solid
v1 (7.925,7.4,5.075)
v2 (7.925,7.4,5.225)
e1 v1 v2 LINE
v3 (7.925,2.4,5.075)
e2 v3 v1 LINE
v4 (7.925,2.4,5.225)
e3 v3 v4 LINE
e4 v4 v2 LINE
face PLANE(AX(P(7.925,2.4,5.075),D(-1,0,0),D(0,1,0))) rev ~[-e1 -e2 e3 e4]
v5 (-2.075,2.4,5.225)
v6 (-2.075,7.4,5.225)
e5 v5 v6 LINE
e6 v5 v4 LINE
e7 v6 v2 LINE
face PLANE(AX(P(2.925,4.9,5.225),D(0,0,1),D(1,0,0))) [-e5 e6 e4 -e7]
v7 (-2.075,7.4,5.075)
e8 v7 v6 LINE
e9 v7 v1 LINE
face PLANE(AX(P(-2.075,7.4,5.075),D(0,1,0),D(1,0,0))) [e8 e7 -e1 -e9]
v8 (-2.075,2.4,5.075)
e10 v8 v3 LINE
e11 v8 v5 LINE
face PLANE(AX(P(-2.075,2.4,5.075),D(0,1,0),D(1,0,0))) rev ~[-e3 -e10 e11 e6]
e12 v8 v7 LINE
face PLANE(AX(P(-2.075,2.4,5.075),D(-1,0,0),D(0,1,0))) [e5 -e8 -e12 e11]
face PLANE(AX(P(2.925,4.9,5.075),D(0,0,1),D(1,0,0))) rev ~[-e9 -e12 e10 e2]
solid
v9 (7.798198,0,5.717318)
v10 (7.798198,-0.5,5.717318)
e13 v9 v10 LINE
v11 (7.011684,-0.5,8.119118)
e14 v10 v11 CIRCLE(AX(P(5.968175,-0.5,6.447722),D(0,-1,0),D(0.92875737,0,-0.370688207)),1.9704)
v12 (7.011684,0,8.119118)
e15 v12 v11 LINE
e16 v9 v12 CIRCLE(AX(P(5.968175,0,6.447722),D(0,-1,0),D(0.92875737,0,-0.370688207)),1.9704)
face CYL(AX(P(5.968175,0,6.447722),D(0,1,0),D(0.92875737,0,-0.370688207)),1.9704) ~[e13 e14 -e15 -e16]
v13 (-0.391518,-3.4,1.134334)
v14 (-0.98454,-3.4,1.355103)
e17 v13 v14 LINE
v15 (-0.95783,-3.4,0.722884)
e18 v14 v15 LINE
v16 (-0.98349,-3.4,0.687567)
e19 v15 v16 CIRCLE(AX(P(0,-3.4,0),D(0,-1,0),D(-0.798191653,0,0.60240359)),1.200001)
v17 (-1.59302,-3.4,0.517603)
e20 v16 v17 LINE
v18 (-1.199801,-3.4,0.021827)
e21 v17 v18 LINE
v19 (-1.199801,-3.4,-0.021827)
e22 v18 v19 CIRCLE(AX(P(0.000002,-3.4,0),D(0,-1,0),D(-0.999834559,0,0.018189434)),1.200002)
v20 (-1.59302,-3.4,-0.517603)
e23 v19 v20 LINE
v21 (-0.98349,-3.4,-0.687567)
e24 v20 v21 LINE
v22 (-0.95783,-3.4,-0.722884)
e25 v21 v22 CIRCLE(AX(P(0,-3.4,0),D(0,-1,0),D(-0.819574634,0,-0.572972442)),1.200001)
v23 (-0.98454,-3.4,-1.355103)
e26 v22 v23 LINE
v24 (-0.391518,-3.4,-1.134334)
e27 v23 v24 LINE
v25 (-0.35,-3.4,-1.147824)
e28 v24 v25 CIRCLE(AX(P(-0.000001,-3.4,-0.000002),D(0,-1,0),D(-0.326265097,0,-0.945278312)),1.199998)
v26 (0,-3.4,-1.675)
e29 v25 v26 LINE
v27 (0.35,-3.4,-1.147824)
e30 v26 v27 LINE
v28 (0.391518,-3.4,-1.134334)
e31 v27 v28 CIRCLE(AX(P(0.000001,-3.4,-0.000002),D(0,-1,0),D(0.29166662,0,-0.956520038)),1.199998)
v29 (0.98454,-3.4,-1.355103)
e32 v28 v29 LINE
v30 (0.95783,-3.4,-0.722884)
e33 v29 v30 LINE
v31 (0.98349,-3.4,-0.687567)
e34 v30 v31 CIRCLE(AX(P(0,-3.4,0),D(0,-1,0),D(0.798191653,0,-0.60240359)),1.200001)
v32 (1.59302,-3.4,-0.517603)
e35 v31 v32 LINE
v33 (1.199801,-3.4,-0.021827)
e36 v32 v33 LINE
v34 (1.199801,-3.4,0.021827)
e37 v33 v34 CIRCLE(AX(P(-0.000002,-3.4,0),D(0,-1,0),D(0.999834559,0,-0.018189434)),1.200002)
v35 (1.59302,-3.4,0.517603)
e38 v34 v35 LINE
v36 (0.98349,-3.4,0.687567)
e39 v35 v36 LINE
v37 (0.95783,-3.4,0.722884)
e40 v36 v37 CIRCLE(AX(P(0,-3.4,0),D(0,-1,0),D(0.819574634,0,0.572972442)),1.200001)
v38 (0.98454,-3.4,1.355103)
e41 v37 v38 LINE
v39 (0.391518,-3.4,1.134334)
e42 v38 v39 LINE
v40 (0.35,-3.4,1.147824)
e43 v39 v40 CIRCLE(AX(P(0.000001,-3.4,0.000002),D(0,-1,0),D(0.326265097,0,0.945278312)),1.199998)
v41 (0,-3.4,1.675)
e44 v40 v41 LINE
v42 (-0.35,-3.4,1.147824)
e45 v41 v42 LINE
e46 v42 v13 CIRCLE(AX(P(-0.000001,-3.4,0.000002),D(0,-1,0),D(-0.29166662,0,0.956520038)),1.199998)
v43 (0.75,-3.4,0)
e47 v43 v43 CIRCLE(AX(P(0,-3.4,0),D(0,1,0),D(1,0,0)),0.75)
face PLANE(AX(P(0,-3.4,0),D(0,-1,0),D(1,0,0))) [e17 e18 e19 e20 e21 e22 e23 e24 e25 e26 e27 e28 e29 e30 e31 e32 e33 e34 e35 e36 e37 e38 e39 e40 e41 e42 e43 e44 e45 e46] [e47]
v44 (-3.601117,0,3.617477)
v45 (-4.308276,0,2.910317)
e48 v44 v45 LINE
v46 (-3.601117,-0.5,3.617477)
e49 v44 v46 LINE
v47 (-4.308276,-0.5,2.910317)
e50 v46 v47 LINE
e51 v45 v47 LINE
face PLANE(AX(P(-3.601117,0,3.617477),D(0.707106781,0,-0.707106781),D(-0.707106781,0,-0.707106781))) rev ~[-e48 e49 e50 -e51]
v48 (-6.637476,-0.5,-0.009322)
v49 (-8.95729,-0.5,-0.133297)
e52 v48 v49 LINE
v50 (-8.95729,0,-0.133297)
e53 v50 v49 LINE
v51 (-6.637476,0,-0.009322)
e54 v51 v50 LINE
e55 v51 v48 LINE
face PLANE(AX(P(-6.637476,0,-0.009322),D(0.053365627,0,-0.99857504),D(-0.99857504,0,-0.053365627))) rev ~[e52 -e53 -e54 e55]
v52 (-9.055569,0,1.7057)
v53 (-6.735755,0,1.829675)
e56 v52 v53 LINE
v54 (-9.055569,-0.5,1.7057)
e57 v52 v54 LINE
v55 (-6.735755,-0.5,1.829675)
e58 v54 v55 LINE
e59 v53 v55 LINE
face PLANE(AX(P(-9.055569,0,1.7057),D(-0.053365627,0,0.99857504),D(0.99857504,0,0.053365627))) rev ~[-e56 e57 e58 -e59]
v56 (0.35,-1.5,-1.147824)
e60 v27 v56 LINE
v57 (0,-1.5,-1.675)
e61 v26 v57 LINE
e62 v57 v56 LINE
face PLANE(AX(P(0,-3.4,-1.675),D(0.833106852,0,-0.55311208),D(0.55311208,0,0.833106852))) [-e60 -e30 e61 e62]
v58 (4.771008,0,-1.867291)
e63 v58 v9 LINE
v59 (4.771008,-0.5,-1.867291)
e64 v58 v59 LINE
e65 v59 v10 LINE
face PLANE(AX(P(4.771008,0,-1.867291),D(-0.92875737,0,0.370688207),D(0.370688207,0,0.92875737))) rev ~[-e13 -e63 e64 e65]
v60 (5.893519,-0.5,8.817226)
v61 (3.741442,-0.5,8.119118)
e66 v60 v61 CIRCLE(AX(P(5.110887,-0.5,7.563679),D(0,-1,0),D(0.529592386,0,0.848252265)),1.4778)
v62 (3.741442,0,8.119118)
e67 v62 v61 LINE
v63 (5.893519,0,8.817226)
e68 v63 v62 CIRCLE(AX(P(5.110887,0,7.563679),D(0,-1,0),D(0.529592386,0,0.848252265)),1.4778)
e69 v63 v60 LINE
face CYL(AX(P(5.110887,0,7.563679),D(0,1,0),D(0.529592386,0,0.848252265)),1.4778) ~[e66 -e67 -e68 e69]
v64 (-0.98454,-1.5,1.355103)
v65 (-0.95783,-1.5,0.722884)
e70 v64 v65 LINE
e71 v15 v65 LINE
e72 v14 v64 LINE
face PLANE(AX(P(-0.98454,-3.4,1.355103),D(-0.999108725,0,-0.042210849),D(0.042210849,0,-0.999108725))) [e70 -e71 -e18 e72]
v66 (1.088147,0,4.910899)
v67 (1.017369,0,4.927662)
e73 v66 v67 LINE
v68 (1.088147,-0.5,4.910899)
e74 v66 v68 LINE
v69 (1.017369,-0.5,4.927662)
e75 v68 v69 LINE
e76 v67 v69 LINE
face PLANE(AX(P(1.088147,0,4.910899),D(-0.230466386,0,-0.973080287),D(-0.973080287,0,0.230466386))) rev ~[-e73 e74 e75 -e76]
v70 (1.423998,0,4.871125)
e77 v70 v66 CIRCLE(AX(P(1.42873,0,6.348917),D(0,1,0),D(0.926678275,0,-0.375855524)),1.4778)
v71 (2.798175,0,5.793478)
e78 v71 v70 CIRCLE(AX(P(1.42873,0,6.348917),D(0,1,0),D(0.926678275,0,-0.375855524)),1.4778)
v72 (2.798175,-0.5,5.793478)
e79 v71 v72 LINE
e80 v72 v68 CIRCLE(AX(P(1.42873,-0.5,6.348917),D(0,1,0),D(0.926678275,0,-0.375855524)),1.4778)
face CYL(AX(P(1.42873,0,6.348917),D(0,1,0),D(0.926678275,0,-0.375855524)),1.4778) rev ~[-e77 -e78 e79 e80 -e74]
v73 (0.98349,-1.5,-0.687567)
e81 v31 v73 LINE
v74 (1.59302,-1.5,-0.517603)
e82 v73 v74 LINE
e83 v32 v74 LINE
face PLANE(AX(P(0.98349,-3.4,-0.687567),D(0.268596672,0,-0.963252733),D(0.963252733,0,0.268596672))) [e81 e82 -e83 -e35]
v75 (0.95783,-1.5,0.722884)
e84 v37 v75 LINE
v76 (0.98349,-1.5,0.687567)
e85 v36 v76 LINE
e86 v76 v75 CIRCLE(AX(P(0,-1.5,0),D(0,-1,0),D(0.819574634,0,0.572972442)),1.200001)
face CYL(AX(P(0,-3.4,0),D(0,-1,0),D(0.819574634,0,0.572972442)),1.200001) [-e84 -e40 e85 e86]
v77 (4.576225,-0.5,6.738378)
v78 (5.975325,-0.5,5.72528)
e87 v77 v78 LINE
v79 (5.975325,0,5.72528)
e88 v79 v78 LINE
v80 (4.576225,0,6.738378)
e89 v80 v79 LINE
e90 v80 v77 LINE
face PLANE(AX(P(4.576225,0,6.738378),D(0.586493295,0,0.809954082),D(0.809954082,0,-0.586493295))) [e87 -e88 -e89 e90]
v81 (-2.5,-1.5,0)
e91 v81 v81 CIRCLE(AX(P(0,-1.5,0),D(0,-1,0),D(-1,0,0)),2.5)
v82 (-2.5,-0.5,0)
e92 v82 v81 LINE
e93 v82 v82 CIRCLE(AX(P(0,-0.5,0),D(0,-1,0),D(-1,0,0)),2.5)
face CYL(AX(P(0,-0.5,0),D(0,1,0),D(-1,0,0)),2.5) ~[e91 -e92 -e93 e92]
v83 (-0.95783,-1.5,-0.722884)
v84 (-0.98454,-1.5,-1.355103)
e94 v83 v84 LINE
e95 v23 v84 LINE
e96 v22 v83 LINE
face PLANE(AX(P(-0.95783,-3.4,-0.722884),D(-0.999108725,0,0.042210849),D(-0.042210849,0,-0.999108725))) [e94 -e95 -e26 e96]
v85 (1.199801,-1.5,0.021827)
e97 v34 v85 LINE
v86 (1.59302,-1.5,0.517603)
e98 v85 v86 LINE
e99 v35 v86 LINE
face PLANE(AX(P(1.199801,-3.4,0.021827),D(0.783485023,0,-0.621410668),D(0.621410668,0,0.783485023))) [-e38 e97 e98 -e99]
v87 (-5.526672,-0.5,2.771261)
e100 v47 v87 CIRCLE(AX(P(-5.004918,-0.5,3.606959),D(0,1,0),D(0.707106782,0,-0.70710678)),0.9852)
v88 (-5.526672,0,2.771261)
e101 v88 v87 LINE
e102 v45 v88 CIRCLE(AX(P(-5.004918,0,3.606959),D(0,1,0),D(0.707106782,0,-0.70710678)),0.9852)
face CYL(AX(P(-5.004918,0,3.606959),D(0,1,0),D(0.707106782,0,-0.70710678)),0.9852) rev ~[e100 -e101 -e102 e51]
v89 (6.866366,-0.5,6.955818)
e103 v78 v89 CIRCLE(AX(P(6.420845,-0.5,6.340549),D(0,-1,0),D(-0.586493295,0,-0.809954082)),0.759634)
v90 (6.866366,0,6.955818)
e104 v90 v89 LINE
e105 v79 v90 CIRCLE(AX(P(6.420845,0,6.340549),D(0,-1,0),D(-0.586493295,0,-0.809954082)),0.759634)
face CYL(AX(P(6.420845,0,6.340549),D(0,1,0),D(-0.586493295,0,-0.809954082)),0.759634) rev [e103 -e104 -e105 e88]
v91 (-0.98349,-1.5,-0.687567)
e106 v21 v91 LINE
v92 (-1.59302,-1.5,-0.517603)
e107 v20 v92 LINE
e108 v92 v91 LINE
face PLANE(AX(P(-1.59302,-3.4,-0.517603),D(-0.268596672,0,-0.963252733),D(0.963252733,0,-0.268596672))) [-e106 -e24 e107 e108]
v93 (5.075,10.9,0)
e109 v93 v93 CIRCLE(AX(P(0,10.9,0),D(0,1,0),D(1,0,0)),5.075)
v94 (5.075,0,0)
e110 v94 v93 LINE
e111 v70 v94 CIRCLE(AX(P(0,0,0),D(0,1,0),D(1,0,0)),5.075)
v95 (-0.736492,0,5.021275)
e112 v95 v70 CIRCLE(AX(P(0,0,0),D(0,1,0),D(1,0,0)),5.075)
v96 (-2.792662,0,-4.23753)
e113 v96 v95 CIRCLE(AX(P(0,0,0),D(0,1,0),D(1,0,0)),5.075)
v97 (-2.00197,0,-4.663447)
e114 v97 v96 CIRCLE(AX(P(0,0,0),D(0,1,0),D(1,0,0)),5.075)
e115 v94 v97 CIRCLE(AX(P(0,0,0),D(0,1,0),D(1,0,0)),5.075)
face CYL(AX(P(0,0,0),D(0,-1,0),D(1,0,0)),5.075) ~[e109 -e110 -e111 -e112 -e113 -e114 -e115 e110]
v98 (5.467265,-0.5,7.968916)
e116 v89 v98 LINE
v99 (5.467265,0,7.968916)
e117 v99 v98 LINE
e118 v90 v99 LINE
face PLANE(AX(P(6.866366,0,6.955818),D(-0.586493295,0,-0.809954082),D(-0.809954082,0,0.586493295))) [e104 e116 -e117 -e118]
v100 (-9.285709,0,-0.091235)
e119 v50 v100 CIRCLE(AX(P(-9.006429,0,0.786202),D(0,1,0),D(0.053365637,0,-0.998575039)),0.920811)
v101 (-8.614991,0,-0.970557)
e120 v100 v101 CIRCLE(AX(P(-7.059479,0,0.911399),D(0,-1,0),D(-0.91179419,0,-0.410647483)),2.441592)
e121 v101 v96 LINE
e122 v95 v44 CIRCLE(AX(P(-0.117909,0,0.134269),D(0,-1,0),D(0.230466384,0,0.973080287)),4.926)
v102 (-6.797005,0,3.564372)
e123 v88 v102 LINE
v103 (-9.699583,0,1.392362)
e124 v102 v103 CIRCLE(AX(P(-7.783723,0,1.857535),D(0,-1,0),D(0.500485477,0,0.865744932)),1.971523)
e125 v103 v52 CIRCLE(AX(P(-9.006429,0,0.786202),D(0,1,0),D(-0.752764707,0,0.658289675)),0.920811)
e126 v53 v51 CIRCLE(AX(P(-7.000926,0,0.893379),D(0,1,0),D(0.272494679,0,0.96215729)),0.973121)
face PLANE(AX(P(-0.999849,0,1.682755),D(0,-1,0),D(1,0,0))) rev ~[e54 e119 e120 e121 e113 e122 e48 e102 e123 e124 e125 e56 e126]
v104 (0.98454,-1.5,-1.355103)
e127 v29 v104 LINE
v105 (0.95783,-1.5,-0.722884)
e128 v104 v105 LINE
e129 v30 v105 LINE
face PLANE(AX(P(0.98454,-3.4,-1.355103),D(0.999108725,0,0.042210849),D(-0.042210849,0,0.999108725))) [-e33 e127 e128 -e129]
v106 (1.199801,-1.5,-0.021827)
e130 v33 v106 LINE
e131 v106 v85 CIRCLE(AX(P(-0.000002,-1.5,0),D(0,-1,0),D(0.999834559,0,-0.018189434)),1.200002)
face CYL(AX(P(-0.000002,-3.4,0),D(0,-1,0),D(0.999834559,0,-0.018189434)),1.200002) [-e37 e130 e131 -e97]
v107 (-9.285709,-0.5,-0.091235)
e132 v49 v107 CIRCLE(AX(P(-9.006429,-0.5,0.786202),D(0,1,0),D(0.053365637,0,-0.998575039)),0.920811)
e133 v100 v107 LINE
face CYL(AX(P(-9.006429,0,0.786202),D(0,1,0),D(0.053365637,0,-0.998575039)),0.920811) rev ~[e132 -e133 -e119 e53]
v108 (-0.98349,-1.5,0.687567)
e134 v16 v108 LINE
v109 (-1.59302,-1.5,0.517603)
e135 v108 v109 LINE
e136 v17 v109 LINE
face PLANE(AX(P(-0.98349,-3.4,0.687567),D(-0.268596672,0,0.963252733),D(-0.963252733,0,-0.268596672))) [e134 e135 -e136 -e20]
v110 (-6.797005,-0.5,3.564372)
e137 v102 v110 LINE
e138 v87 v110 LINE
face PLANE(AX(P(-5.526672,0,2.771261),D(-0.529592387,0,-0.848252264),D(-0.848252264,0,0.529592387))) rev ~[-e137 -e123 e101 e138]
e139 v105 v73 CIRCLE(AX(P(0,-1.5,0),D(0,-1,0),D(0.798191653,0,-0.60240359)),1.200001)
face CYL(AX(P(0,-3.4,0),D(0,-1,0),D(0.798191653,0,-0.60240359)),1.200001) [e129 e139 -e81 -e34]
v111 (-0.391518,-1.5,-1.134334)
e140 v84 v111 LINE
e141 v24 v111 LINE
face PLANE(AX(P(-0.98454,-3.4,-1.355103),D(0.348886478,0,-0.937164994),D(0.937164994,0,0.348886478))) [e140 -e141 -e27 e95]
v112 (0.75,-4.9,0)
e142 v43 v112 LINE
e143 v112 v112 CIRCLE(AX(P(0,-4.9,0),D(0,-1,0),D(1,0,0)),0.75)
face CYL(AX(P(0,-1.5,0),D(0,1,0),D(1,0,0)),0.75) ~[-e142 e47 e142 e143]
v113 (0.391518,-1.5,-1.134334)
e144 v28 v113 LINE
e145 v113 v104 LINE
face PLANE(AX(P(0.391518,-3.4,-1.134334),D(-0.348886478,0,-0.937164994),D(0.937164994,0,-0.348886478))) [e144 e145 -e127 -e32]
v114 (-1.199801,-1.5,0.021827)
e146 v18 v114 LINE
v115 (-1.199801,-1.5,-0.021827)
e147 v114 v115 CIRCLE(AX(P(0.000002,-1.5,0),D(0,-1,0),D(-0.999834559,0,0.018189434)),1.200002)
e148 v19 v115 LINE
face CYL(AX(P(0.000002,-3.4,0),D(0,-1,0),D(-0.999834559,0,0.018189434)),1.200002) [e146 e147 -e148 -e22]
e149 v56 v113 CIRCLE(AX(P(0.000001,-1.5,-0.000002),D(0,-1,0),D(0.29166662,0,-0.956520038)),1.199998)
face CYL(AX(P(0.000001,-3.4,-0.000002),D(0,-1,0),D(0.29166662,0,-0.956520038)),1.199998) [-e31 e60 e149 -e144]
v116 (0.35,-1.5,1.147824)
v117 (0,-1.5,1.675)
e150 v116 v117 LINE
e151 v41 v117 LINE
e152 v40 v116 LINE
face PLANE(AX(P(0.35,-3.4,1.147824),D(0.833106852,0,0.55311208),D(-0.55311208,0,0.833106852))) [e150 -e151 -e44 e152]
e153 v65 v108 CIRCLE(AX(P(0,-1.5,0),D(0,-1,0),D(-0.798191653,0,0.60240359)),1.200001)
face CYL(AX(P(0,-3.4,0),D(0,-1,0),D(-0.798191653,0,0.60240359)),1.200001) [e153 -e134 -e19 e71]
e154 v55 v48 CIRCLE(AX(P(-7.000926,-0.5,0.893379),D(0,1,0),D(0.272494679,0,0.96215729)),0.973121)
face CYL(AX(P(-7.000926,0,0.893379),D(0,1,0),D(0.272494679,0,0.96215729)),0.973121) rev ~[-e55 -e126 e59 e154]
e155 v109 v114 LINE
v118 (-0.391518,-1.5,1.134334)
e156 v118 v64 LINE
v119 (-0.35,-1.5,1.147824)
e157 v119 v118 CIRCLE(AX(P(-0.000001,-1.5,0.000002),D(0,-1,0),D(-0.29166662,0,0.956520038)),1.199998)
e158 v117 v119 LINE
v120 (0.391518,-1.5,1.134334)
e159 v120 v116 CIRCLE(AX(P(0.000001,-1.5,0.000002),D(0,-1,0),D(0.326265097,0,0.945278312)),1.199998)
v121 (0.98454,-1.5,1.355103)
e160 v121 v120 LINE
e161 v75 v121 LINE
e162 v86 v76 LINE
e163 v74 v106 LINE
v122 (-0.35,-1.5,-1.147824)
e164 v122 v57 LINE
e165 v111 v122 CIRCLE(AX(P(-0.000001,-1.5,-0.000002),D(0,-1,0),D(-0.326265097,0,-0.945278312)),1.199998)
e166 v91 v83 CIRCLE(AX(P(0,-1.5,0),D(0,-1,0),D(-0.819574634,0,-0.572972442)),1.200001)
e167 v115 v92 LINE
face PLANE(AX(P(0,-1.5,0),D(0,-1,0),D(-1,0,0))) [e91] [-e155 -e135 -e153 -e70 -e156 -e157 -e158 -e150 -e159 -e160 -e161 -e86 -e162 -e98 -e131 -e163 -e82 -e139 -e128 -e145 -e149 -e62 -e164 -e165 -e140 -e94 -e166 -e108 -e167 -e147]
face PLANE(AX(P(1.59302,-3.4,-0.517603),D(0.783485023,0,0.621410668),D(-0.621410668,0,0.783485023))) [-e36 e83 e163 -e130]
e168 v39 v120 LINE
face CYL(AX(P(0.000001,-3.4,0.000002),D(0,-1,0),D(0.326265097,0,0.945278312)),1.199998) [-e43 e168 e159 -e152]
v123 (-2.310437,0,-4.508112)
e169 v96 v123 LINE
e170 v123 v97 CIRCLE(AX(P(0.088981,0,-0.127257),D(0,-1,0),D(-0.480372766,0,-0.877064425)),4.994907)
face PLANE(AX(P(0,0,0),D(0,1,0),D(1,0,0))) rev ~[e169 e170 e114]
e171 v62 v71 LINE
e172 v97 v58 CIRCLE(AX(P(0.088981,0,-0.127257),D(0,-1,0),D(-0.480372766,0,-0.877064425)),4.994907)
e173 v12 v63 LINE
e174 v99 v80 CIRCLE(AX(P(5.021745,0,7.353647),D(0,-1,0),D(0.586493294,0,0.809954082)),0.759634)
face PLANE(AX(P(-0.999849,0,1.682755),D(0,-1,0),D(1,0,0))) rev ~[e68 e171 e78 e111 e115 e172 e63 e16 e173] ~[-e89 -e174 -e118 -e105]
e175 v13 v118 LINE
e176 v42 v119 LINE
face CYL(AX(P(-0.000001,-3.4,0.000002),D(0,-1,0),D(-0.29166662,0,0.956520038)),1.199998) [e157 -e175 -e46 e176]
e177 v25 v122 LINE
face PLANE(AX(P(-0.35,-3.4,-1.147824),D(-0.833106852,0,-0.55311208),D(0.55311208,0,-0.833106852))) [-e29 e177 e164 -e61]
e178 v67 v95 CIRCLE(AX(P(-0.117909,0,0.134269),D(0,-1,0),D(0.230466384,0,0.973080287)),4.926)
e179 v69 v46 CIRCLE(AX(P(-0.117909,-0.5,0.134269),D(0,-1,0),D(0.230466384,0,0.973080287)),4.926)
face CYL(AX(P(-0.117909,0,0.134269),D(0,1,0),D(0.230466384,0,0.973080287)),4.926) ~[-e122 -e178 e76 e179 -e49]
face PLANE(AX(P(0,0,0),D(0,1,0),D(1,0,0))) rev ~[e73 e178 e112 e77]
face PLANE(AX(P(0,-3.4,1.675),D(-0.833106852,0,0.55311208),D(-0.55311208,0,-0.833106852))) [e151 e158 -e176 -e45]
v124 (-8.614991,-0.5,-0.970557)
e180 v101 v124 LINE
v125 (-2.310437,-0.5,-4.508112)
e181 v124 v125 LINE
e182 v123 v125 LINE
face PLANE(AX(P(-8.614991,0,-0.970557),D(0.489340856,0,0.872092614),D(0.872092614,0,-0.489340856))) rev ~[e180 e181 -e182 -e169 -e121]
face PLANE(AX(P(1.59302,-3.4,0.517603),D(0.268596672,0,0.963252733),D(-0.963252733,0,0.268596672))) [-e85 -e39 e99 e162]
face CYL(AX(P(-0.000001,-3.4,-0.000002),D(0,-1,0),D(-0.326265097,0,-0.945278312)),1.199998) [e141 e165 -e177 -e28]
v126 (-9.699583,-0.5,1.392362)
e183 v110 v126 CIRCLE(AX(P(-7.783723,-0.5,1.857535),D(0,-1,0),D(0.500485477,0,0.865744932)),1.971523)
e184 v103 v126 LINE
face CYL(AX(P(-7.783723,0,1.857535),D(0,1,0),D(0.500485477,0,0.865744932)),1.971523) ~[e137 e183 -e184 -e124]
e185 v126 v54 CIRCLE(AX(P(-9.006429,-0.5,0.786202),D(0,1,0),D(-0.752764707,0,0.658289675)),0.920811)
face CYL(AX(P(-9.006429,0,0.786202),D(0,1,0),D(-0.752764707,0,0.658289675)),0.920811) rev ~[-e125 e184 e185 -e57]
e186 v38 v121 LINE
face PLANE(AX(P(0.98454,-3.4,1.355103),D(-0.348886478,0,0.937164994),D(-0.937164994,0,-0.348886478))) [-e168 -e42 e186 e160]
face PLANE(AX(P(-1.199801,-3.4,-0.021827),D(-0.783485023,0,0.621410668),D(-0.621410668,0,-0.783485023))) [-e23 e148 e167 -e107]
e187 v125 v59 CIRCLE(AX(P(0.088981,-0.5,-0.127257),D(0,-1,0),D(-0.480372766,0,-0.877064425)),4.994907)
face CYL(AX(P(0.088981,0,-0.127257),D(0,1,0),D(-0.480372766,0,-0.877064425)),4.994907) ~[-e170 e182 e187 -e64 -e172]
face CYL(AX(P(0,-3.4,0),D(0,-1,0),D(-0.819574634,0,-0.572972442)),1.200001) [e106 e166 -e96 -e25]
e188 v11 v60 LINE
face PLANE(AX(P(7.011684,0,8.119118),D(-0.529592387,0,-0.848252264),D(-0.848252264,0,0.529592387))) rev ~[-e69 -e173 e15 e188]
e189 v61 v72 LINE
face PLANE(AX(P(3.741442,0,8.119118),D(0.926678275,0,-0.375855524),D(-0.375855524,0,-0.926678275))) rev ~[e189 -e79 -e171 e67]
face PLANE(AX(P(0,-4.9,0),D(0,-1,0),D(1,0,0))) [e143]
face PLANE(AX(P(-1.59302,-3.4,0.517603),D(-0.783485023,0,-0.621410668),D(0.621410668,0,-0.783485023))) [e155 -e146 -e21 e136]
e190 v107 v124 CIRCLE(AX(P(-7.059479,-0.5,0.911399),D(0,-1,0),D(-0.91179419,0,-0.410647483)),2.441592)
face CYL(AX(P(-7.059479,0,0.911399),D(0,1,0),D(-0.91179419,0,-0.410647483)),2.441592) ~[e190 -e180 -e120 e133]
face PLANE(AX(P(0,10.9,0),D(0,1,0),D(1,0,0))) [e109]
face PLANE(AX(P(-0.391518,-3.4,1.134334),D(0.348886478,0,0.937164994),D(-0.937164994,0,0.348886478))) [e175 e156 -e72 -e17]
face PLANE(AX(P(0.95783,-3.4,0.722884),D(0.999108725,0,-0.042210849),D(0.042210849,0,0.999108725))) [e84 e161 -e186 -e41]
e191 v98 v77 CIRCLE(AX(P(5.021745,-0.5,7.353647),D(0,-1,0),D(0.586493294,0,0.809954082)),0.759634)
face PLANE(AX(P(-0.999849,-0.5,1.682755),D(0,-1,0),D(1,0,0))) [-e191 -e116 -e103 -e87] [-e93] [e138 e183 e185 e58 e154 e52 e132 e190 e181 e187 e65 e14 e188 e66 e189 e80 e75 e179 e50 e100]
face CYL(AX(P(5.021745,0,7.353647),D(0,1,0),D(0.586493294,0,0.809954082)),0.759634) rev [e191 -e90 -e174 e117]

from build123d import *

# Parameters (mm, degrees)
SKETCH1_R           = 5.075
BOSS_EXTRUDE1_DEPTH = 10.9
BOSS_EXTRUDE2_DEPTH = 0.5
SKETCH3_R           = 2.5
BOSS_EXTRUDE3_DEPTH = 1
SKETCH5_R           = 0.75
BOSS_EXTRUDE4_DEPTH = 3.4
BOSS_EXTRUDE5_DEPTH = 2
SKETCH8_W           = 10
SKETCH8_H           = 5
BOSS_EXTRUDE6_DEPTH = 0.15


with BuildPart() as part:
    # Sketch1 → Boss-Extrude1 (new body)
    with BuildSketch(Plane(origin=(0, 0, 0), x_dir=(1, 0, 0), z_dir=(0, 1, 0))):
        Circle(SKETCH1_R)
    extrude(amount=BOSS_EXTRUDE1_DEPTH)

    # Sketch2 → Boss-Extrude2 (add)
    with BuildSketch(Plane.XZ):
        with BuildLine():
            Line((-8.61499055, -0.970557139), (-2.310436603, -4.508112409))
            ThreePointArc((-2.310436603, -4.508112409), (1.834277732, -4.807325107), (4.771008313, -1.867291323))
            Line((4.771008313, -1.867291323), (7.798198395, 5.717317641))
            ThreePointArc((7.798198395, 5.717317641), (7.840728806, 7.060924689), (7.011683711, 8.119117946))
            Line((7.011683711, 8.119117946), (5.893518828, 8.817225849))
            ThreePointArc((5.893518828, 8.817225849), (4.654897956, 8.969369461), (3.741442044, 8.119117946))
            Line((3.741442044, 8.119117946), (2.79817543, 5.793477847))
            ThreePointArc((2.79817543, 5.793477847), (2.106502755, 5.035708358), (1.088147054, 4.910899091))
            Line((1.088147054, 4.910899091), (1.017368736, 4.927662377))
            ThreePointArc((1.017368736, 4.927662377), (-1.462282513, 4.873270355), (-3.601116675, 3.617476885))
            Line((-3.601116675, 3.617476885), (-4.308276433, 2.910317127))
            ThreePointArc((-4.308276433, 2.910317127), (-4.893201601, 2.628113245), (-5.526672453, 2.771260597))
            Line((-5.526672453, 2.771260597), (-6.797004588, 3.564371627))
            ThreePointArc((-6.797004588, 3.564371627), (-8.964923009, 3.436038373), (-9.699583134, 1.392361734))
            ThreePointArc((-9.699583134, 1.392361734), (-9.409288056, 1.61420952), (-9.055569037, 1.70570011))
            Line((-9.055569037, 1.70570011), (-6.735755354, 1.829675082))
            ThreePointArc((-6.735755354, 1.829675082), (-6.029191067, 0.94531053), (-6.637476081, -0.009321909))
            Line((-6.637476081, -0.009321909), (-8.957289765, -0.133296881))
            ThreePointArc((-8.957289765, -0.133296881), (-9.12340547, -0.127148695), (-9.285709006, -0.091235044))
            ThreePointArc((-9.285709006, -0.091235044), (-9.00079149, -0.569371398), (-8.61499055, -0.970557139))
        make_face()
        with BuildLine():
            Line((4.576224529, 6.738378176), (5.975324732, 5.725280143))
            ThreePointArc((5.975324732, 5.725280143), (7.036113989, 5.895028611), (6.866365521, 6.955817868))
            Line((6.866365521, 6.955817868), (5.467265319, 7.968915901))
            ThreePointArc((5.467265319, 7.968915901), (4.406476062, 7.799167433), (4.576224529, 6.738378176))
        make_face(mode=Mode.SUBTRACT)
    extrude(amount=BOSS_EXTRUDE2_DEPTH)

    # Sketch3 → Boss-Extrude3 (add)
    with BuildSketch(Plane(origin=(0, -0.5, 0), x_dir=(-1, 0, 0), z_dir=(0, -1, 0))):
        Circle(SKETCH3_R)
    extrude(amount=BOSS_EXTRUDE3_DEPTH)

    # Sketch5 → Boss-Extrude4 (add)
    with BuildSketch(Plane.XZ.offset(1.5)):
        Circle(SKETCH5_R)
    extrude(amount=BOSS_EXTRUDE4_DEPTH)

    # Sketch6 → Boss-Extrude5 (add)
    with BuildSketch(Plane.XZ.offset(3.4)):
        with BuildLine():
            Line((0, 1.675), (-0.35, 1.147824028))
            ThreePointArc((-0.35, 1.147824028), (-0.370820393, 1.14126782), (-0.391518088, 1.134333984))
            Line((-0.391518088, 1.134333984), (-0.984540298, 1.355103466))
            Line((-0.984540298, 1.355103466), (-0.957829984, 0.722884307))
            ThreePointArc((-0.957829984, 0.722884307), (-0.970820393, 0.705342303), (-0.983489574, 0.687566912))
            Line((-0.983489574, 0.687566912), (-1.593019665, 0.517603466))
            Line((-1.593019665, 0.517603466), (-1.19980147, 0.021827351))
            ThreePointArc((-1.19980147, 0.021827351), (-1.2, 0), (-1.19980147, -0.021827351))
            Line((-1.19980147, -0.021827351), (-1.593019665, -0.517603466))
            Line((-1.593019665, -0.517603466), (-0.983489574, -0.687566912))
            ThreePointArc((-0.983489574, -0.687566912), (-0.970820393, -0.705342303), (-0.957829984, -0.722884307))
            Line((-0.957829984, -0.722884307), (-0.984540298, -1.355103466))
            Line((-0.984540298, -1.355103466), (-0.391518088, -1.134333984))
            ThreePointArc((-0.391518088, -1.134333984), (-0.370820393, -1.14126782), (-0.35, -1.147824028))
            Line((-0.35, -1.147824028), (0, -1.675))
            Line((0, -1.675), (0.35, -1.147824028))
            ThreePointArc((0.35, -1.147824028), (0.370820393, -1.14126782), (0.391518088, -1.134333984))
            Line((0.391518088, -1.134333984), (0.984540298, -1.355103466))
            Line((0.984540298, -1.355103466), (0.957829984, -0.722884307))
            ThreePointArc((0.957829984, -0.722884307), (0.970820393, -0.705342303), (0.983489574, -0.687566912))
            Line((0.983489574, -0.687566912), (1.593019665, -0.517603466))
            Line((1.593019665, -0.517603466), (1.19980147, -0.021827351))
            ThreePointArc((1.19980147, -0.021827351), (1.2, 0), (1.19980147, 0.021827351))
            Line((1.19980147, 0.021827351), (1.593019665, 0.517603466))
            Line((1.593019665, 0.517603466), (0.983489574, 0.687566912))
            ThreePointArc((0.983489574, 0.687566912), (0.970820393, 0.705342303), (0.957829984, 0.722884307))
            Line((0.957829984, 0.722884307), (0.984540298, 1.355103466))
            Line((0.984540298, 1.355103466), (0.391518088, 1.134333984))
            ThreePointArc((0.391518088, 1.134333984), (0.370820393, 1.14126782), (0.35, 1.147824028))
            Line((0.35, 1.147824028), (0, 1.675))
        make_face()
    extrude(amount=-BOSS_EXTRUDE5_DEPTH)


with BuildPart() as body_2:
    # Sketch8 → Boss-Extrude6 (new body)
    with BuildSketch(Plane.XY.offset(5.075)):
        with Locations((2.925, 4.9)):
            Rectangle(SKETCH8_W, SKETCH8_H)
    extrude(amount=BOSS_EXTRUDE6_DEPTH)


solid = Compound([part.part, body_2.part])
